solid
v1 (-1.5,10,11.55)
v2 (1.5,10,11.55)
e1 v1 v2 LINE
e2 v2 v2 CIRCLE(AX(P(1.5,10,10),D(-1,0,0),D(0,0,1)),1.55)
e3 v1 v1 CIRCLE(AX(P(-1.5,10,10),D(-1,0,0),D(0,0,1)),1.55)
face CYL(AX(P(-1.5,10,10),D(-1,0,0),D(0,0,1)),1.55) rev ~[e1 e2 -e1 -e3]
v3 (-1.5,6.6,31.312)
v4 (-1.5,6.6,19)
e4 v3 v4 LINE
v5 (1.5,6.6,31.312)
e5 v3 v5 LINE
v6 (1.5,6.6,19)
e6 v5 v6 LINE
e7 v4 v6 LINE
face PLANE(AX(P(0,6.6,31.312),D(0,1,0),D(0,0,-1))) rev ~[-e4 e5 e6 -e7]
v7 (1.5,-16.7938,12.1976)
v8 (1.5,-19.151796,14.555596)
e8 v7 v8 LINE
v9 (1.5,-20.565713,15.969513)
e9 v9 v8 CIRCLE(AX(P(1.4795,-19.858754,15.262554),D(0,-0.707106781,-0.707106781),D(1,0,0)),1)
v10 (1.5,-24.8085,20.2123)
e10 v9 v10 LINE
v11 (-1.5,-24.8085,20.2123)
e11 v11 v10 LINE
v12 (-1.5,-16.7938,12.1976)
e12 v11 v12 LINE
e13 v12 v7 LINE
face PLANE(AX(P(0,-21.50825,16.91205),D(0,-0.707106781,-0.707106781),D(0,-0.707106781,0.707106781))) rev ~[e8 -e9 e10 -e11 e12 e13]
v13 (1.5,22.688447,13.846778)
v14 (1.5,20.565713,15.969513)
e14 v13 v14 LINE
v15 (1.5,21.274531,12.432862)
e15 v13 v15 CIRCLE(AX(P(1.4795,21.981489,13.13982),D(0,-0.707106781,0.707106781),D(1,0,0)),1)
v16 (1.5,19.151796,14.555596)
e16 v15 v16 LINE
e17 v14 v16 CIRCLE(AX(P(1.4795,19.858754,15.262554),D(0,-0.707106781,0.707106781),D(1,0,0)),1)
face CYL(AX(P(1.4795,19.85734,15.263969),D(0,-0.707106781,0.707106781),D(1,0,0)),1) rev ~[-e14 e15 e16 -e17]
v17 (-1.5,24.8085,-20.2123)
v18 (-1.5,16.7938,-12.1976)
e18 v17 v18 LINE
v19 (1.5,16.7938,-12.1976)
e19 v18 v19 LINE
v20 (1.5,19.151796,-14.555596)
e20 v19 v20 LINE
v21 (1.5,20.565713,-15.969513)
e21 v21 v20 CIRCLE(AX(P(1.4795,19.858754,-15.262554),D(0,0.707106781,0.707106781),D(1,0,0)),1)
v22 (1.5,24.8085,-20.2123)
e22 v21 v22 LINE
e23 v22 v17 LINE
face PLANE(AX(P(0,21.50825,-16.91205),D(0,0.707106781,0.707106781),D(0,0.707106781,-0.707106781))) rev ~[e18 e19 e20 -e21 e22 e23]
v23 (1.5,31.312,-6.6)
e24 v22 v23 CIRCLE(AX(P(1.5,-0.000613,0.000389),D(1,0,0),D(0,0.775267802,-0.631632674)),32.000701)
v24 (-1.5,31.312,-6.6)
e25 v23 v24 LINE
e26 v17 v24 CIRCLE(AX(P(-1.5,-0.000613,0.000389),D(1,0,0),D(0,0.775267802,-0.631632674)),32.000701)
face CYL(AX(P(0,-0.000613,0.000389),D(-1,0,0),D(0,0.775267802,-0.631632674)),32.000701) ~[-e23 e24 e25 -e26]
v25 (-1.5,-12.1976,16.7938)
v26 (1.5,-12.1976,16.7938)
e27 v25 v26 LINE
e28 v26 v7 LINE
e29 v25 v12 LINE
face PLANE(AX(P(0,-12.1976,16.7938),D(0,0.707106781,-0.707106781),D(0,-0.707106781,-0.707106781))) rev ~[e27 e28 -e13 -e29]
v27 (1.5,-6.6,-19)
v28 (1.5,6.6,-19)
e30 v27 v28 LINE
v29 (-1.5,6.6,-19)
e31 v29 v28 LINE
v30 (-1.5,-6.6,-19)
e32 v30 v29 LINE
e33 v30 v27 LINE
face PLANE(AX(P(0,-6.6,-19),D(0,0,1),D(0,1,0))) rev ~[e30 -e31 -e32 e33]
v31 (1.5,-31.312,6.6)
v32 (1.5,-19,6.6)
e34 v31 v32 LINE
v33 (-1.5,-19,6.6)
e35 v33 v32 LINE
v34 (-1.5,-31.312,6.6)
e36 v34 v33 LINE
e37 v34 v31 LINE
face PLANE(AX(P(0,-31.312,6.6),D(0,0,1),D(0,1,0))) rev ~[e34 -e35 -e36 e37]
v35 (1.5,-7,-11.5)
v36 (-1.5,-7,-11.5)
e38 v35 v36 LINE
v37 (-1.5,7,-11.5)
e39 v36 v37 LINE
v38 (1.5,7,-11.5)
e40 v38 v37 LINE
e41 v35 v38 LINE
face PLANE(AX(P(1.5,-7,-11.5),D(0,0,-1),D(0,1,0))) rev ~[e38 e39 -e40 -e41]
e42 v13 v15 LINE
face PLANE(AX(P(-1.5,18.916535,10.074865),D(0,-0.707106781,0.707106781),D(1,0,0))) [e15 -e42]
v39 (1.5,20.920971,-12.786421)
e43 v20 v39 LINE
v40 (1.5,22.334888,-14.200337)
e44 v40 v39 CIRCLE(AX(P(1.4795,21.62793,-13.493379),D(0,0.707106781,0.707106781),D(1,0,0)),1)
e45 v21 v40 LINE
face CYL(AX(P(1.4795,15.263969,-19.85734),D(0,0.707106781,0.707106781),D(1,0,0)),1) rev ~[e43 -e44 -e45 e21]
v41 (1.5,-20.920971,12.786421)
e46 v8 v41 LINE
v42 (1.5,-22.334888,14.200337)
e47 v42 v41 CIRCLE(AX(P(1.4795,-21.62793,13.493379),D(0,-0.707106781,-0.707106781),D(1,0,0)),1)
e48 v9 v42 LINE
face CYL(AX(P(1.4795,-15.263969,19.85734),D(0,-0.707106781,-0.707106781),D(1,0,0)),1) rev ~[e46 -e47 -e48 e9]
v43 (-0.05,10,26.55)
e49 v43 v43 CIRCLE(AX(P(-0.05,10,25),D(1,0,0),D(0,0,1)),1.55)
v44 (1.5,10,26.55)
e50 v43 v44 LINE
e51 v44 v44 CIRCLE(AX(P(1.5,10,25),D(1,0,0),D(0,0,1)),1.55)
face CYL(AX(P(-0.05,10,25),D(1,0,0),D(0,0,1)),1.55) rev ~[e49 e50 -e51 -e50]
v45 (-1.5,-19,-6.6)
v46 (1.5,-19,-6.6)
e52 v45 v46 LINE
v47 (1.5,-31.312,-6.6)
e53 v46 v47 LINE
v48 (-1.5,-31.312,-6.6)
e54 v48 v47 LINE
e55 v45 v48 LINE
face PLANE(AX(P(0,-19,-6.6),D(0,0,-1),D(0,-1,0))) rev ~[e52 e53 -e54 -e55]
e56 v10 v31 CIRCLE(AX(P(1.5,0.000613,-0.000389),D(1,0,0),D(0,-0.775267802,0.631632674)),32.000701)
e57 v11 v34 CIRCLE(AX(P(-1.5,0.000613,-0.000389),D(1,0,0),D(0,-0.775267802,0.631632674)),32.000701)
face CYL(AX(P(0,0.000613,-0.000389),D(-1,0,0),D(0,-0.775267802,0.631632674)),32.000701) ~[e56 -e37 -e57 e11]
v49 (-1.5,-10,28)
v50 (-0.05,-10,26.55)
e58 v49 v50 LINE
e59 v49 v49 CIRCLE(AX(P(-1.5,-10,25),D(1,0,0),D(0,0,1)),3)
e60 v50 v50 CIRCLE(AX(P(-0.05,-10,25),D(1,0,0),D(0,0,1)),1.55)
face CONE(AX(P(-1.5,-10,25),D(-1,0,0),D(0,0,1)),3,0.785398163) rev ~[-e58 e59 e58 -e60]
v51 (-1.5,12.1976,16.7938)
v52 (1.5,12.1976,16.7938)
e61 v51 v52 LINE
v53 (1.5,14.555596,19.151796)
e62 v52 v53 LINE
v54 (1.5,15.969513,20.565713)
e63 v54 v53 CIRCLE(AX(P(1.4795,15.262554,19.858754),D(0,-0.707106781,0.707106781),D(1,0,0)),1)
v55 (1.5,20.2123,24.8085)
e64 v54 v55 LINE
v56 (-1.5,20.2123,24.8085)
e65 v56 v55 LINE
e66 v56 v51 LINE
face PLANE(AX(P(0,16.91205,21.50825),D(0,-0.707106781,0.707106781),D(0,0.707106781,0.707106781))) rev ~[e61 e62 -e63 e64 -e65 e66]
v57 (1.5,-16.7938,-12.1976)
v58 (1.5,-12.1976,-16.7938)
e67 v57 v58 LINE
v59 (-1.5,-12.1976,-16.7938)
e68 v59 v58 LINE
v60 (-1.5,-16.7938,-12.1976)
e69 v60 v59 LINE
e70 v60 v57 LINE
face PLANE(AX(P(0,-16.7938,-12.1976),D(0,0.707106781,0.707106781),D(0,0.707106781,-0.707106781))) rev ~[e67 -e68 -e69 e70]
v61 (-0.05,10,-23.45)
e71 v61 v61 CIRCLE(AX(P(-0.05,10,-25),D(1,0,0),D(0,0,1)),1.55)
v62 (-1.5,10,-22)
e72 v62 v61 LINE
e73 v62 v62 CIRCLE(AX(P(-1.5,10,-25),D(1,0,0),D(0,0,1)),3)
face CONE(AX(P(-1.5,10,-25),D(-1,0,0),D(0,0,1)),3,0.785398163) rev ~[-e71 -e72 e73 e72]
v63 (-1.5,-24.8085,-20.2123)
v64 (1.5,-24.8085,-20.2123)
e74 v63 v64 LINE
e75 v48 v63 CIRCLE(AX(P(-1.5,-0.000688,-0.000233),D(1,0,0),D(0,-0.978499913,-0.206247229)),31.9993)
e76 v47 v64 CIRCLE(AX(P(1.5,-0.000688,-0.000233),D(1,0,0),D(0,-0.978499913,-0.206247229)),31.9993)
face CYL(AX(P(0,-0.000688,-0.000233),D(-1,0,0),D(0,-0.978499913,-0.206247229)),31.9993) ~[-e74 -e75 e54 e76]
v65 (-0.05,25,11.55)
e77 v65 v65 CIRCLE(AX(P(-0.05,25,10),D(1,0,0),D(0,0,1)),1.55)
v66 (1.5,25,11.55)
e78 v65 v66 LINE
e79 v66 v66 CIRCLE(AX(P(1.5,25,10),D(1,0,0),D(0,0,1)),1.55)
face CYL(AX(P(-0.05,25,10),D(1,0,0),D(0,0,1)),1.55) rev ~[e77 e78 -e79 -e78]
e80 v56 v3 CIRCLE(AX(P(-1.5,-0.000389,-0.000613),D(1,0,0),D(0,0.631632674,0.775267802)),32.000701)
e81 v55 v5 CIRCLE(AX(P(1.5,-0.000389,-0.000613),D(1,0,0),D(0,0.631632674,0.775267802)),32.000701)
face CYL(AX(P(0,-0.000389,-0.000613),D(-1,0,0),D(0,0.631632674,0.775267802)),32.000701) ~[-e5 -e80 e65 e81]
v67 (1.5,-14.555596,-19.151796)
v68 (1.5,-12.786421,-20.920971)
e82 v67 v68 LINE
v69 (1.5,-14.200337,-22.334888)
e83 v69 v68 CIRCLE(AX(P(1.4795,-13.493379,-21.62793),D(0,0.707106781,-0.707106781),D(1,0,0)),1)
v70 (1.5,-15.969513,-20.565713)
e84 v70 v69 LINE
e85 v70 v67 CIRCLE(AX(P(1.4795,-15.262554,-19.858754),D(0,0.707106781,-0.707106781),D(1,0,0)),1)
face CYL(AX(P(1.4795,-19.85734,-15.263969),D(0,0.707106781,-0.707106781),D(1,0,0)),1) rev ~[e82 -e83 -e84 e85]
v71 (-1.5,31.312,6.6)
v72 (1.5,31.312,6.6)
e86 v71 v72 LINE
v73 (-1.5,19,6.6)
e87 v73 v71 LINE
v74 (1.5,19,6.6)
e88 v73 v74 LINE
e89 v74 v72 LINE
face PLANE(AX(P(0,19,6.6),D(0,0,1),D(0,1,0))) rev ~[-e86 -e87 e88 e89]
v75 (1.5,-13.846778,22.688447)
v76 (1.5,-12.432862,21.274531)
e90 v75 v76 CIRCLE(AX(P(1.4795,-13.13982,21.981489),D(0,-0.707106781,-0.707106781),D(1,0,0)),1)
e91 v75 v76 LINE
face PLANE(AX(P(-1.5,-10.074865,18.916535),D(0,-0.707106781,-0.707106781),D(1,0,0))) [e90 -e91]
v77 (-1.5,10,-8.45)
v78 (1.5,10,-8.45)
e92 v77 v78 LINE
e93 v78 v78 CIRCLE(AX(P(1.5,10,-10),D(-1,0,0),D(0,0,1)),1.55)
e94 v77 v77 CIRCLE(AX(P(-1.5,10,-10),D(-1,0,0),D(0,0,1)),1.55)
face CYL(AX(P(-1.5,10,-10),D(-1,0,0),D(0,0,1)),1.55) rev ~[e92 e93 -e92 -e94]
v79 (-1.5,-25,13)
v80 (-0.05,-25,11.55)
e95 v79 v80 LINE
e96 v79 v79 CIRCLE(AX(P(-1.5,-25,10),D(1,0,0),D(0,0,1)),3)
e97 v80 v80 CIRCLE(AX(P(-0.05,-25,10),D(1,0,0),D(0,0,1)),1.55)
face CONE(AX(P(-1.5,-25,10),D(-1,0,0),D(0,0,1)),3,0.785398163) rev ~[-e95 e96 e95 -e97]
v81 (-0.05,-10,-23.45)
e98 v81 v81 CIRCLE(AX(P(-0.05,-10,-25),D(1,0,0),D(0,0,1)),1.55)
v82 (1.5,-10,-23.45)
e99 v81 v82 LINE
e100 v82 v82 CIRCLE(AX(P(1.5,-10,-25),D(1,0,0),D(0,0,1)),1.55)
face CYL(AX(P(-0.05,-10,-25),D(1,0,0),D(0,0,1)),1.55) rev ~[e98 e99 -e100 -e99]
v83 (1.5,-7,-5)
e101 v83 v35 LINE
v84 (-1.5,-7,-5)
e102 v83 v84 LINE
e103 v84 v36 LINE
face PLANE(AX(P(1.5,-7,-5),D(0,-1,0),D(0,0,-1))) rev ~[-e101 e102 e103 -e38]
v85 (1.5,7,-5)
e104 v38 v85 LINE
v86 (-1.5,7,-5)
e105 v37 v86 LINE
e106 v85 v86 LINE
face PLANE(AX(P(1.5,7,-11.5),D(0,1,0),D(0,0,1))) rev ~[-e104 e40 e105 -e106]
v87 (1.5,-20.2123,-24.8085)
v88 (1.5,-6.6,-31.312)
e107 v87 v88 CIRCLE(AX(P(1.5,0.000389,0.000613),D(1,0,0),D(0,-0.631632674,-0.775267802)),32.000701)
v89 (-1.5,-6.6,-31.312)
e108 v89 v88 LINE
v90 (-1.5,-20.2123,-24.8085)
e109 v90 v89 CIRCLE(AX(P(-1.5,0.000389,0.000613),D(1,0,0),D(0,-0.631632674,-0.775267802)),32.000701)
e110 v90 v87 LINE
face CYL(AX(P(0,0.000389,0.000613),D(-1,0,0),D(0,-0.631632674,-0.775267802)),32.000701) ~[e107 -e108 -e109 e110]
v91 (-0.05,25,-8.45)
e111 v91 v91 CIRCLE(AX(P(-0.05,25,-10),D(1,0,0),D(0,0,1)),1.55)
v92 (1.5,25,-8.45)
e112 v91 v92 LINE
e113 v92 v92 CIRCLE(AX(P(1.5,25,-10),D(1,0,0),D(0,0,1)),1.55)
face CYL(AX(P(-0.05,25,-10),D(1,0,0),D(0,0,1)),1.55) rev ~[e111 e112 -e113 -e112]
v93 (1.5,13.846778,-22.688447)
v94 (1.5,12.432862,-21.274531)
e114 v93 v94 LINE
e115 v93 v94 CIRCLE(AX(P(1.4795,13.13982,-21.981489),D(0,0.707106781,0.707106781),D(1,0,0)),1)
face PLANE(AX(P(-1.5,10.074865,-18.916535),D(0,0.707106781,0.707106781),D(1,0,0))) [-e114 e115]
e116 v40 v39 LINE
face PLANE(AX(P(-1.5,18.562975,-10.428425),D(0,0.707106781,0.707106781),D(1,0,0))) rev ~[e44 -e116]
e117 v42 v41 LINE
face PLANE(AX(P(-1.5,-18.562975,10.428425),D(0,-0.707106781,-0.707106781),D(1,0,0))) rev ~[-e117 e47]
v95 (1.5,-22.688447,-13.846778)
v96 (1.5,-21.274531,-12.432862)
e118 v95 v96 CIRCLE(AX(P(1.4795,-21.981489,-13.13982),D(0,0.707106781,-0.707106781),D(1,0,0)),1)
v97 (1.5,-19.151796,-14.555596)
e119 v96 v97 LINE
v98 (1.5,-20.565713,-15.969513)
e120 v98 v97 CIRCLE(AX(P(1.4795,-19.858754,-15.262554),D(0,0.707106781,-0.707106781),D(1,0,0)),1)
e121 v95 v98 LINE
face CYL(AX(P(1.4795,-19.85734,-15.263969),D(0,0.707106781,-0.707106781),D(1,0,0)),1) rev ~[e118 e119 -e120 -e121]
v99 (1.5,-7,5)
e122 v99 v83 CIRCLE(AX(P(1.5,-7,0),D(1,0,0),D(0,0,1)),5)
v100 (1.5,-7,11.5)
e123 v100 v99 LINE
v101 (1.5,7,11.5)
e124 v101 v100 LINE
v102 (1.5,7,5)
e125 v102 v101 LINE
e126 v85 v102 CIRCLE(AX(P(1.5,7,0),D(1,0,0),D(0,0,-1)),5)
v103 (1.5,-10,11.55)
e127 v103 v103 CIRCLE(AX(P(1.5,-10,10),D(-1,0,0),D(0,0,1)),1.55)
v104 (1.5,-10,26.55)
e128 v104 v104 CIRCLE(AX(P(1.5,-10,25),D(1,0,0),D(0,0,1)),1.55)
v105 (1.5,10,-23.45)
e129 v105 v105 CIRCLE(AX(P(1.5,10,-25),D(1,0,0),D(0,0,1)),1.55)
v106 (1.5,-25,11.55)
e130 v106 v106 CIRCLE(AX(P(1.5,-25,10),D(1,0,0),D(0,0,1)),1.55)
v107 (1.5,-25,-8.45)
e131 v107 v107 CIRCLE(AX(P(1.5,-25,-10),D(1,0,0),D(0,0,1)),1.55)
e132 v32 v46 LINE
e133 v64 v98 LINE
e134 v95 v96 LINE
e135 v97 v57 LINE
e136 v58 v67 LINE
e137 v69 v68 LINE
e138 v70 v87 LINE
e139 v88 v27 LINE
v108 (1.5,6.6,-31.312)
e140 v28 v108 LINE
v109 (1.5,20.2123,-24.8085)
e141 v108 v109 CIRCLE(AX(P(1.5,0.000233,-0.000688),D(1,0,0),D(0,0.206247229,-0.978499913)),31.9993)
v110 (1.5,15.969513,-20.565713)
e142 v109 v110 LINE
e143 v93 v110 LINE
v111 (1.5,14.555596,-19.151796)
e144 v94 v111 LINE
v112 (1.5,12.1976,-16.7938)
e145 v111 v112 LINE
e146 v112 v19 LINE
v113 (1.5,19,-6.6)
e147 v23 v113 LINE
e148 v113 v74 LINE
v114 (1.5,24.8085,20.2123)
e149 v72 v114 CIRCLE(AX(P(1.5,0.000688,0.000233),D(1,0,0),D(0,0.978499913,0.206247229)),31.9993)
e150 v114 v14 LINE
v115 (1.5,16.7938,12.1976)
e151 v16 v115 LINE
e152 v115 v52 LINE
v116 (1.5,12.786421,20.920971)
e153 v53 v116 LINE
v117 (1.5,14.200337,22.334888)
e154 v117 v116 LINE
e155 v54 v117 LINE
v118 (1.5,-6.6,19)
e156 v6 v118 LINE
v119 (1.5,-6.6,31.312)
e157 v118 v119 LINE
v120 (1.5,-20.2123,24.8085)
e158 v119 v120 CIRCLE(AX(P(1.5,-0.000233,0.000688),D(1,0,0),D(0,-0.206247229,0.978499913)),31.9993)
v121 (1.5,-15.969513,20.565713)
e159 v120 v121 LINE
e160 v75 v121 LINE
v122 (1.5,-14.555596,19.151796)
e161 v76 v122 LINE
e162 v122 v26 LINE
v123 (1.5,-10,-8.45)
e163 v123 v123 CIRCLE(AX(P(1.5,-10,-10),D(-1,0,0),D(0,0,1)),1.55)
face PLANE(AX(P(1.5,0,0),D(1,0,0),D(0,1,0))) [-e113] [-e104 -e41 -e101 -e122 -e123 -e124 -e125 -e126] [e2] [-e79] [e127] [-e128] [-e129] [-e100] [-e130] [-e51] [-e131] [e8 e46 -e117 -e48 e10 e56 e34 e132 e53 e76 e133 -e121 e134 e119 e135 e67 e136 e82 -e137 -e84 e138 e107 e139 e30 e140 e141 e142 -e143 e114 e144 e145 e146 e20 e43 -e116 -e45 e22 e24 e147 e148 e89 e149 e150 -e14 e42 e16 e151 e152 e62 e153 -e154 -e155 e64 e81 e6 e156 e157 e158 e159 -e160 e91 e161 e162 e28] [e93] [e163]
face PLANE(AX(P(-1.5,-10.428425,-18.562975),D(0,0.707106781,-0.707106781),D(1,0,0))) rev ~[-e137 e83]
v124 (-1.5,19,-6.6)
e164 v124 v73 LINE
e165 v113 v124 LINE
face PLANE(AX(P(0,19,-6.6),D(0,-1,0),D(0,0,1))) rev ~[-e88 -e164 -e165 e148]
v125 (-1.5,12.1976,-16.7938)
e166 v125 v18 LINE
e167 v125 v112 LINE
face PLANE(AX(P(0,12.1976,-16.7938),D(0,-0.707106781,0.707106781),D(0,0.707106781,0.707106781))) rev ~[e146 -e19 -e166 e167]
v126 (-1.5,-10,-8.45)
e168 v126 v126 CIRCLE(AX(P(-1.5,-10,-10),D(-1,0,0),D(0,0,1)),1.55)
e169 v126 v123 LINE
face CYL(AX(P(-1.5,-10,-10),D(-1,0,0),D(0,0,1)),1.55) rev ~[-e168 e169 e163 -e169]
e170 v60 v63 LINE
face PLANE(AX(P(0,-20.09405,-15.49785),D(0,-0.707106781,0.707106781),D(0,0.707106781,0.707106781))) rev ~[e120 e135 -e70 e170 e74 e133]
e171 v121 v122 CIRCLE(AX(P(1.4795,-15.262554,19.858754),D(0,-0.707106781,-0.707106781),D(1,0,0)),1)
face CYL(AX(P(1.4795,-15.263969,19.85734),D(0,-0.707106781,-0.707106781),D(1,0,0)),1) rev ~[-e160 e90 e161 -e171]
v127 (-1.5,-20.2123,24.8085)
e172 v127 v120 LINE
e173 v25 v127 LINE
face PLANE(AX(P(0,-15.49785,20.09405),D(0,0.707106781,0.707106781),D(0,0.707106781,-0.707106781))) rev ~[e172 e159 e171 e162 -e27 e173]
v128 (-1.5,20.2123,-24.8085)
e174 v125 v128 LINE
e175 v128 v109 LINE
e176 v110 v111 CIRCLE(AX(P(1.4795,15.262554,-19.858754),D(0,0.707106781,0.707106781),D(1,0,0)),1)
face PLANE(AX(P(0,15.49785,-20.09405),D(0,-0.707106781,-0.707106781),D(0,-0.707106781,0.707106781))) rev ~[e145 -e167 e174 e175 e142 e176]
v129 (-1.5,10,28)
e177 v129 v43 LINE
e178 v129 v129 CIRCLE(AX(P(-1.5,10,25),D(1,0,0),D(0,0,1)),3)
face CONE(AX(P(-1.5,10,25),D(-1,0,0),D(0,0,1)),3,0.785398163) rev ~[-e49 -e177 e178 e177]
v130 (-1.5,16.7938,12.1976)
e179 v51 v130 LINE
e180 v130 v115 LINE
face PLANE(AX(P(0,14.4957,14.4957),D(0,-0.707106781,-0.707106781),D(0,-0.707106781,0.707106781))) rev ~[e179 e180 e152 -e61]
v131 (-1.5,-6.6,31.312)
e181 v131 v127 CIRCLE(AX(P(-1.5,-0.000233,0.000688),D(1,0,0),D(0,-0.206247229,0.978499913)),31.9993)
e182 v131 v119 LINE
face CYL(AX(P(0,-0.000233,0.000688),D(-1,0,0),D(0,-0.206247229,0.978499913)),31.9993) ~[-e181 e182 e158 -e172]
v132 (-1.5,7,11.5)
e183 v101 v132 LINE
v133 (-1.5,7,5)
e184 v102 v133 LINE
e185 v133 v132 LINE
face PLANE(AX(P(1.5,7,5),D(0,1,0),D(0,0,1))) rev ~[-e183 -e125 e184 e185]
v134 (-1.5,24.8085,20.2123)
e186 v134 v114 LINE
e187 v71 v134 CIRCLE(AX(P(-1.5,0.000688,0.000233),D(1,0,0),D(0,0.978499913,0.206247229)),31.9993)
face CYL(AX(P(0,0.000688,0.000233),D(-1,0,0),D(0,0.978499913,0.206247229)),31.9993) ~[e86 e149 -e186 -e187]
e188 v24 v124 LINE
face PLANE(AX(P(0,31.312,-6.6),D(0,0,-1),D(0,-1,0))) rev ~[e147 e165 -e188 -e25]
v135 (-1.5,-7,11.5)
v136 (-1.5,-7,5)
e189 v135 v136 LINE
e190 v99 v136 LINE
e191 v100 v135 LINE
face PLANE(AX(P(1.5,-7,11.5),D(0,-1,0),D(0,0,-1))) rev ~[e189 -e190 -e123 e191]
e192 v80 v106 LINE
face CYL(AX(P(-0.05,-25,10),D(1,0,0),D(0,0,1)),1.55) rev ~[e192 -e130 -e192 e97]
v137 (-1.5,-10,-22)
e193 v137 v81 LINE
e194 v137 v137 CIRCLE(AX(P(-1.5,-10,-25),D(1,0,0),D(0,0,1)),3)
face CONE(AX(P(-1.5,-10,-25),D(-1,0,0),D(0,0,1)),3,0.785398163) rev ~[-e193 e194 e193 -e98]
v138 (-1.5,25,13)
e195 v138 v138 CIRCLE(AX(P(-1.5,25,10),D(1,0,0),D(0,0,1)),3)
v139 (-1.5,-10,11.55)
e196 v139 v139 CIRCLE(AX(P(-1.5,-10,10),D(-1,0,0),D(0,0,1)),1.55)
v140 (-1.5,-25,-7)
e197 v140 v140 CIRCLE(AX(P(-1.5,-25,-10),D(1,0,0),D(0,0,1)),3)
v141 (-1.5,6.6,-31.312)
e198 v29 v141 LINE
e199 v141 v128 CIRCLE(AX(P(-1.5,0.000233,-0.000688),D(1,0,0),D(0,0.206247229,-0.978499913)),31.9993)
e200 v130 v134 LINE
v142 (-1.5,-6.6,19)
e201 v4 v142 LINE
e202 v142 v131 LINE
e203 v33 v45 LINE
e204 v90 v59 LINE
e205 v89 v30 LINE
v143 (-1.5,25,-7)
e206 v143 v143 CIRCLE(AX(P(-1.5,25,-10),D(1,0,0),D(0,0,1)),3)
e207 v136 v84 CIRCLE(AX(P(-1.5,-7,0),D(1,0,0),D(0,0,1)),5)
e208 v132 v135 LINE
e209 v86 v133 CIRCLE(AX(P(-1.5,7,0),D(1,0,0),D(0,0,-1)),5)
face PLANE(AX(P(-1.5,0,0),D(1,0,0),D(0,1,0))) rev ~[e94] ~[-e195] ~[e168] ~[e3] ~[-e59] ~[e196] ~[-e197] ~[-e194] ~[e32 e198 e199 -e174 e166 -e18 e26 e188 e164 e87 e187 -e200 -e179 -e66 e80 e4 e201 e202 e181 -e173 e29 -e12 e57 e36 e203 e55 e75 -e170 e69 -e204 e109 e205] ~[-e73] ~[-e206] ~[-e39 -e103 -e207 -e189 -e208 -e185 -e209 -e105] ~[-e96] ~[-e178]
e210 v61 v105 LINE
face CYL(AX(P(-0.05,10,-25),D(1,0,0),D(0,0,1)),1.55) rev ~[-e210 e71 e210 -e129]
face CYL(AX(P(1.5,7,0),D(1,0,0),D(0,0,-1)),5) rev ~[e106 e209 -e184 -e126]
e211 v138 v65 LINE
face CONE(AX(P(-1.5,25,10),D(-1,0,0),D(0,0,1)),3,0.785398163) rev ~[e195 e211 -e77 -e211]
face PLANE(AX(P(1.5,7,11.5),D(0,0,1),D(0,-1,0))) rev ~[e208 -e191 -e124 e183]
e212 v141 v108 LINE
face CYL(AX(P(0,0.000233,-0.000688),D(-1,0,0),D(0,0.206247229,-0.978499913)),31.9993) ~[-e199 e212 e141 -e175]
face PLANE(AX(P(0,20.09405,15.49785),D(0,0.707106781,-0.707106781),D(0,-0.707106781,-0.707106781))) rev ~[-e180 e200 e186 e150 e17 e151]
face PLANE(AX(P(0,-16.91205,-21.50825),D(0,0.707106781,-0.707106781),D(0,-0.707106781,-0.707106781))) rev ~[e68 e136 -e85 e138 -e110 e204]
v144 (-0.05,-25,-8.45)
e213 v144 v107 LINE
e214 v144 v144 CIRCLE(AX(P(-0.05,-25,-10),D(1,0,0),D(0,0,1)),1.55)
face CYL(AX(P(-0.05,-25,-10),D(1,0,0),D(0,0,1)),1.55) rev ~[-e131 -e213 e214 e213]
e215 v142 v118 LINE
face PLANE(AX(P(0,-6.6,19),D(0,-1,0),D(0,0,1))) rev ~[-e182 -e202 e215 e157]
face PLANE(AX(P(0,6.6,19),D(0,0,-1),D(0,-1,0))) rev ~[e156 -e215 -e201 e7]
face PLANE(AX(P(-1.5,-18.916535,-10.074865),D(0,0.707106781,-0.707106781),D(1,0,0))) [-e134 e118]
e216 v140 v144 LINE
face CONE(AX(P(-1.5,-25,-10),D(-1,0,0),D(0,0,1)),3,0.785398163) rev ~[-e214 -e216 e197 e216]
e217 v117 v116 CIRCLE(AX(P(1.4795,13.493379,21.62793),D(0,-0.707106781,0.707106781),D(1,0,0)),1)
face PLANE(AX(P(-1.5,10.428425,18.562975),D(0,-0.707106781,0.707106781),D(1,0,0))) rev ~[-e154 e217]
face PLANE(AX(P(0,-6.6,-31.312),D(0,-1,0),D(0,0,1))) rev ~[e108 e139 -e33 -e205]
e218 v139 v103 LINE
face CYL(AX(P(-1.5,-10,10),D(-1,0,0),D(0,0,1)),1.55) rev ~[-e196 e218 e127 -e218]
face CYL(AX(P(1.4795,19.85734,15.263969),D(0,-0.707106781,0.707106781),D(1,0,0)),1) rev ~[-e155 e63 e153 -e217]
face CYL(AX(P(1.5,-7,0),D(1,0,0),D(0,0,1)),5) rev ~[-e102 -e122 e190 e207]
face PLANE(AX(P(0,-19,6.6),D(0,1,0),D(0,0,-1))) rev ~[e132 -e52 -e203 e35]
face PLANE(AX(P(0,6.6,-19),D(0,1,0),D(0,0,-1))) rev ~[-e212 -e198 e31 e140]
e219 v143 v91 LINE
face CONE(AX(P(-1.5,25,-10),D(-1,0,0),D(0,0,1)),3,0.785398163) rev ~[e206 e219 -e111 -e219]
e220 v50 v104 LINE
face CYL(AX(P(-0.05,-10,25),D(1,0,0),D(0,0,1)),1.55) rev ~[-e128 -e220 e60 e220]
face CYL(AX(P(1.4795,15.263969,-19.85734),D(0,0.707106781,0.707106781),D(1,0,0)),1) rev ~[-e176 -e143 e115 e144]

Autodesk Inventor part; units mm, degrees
ref_plane "YZ Plane" through (0, 0, 0) normal (1, 0, 0) x (0, 1, 0)
sketch "Náčrt1" plane through (0, 0, 0) normal (1, 0, 0) x (0, 1, 0)
  line L0 (19, 6.6) -> (31.312, 6.6)
  line L1 (31.312, -6.6) -> (19, -6.6)
  line L2 (19, -6.6) -> (19, 6.6)
  line L3 (24.8085, 20.2123) -> (16.7938, 12.1976)
  line L4 (16.7938, 12.1976) -> (12.1976, 16.7938)
  line L5 (12.1976, 16.7938) -> (20.2123, 24.8085)
  line L6 (0, 0) -> (14.4957, 14.4957)
  line L7 (6.6, 19) -> (-6.6, 19)
  line L8 (6.6, 31.312) -> (6.6, 19)
  line L9 (-6.6, 19) -> (-6.6, 31.312)
  line L10 (-20.2123, 24.8085) -> (-12.1976, 16.7938)
  line L11 (-12.1976, 16.7938) -> (-16.7938, 12.1976)
  line L12 (-16.7938, 12.1976) -> (-24.8085, 20.2123)
  line L13 (-19, 6.6) -> (-19, -6.6)
  line L14 (-31.312, 6.6) -> (-19, 6.6)
  line L15 (-19, -6.6) -> (-31.312, -6.6)
  line L16 (-24.8085, -20.2123) -> (-16.7938, -12.1976)
  line L17 (-16.7938, -12.1976) -> (-12.1976, -16.7938)
  line L18 (-12.1976, -16.7938) -> (-20.2123, -24.8085)
  line L19 (-6.6, -19) -> (6.6, -19)
  line L20 (-6.6, -31.312) -> (-6.6, -19)
  line L21 (6.6, -19) -> (6.6, -31.312)
  line L22 (20.2123, -24.8085) -> (12.1976, -16.7938)
  line L23 (12.1976, -16.7938) -> (16.7938, -12.1976)
  line L24 (16.7938, -12.1976) -> (24.8085, -20.2123)
  arc A0 (24.8085, -20.2123) -> (31.312, -6.6) centre (0, 0) ccw
  arc A1 (6.6, -31.312) -> (20.2123, -24.8085) centre (0, 0) ccw
  arc A2 (-20.2123, -24.8085) -> (-6.6, -31.312) centre (0, 0) ccw
  arc A3 (-31.312, -6.6) -> (-24.8085, -20.2123) centre (0, 0) ccw
  arc A4 (-24.8085, 20.2123) -> (-31.312, 6.6) centre (0, 0) ccw
  arc A5 (-6.6, 31.312) -> (-20.2123, 24.8085) centre (0, 0) ccw
  arc A6 (31.312, 6.6) -> (24.8085, 20.2123) centre (0, 0) ccw
  arc A7 (20.2123, 24.8085) -> (6.6, 31.312) centre (0, 0) ccw
  line L25 (16.205, 20.8011) -> (20.8011, 16.205)
  line L26 (14.9675, 23.4528) -> (13.5533, 22.0386)
  line L27 (13.5533, 22.0386) -> (22.0386, 13.5533)
  line L28 (22.0386, 13.5533) -> (23.4528, 14.9675)
  line L29 (23.4528, 14.9675) -> (14.9675, 23.4528)
  line L30 (-13.5533, 22.0386) -> (-14.9675, 23.4528)
  line L31 (-22.0386, 13.5533) -> (-13.5533, 22.0386)
  line L32 (-14.9675, 23.4528) -> (-23.4528, 14.9675)
  line L33 (-23.4528, 14.9675) -> (-22.0386, 13.5533)
  line L34 (-22.0386, -13.5533) -> (-23.4528, -14.9675)
  line L35 (-13.5533, -22.0386) -> (-22.0386, -13.5533)
  line L36 (-23.4528, -14.9675) -> (-14.9675, -23.4528)
  line L37 (-14.9675, -23.4528) -> (-13.5533, -22.0386)
  line L38 (13.5533, -22.0386) -> (14.9675, -23.4528)
  line L39 (22.0386, -13.5533) -> (13.5533, -22.0386)
  line L40 (14.9675, -23.4528) -> (23.4528, -14.9675)
  line L41 (23.4528, -14.9675) -> (22.0386, -13.5533)
  point P0 (-14.4957, 14.4957)
  point P1 (-14.4957, -14.4957)
  point P2 (14.4957, -14.4957)
  dimension "d1" = 6.6
  dimension "d2" = 6.6
  dimension "d4" = 6.5
  dimension "d5" = 3.25
  dimension "d6" = 20.5
  dimension "d7" = 45
  dimension "d10" = 360
  dimension "d12" = 2
  dimension "d13" = 12
  dimension "d14" = 1
  dimension "d15" = 2.75
  dimension "d18" = 360
extrude "Vysunutí1" add sketch "Náčrt1" along normal mid plane 3 contours L2 L1 A0 L24 L40 L41 L39 L23 L22 L38 A1 L21 L19 L20 A2 L18 L36 L37 L35 L17 L16 L34 A3 L15 L13 L14 A4 L12 L32 L33 L31 L11 L10 L30 A5 L9 L7 L8 A7 L5 L29 L26 L27 L4 L3 L28 A6 L0 | L29 L28 L27 L3 | L5 L27 L26 L29 | L24 L39 L41 L40 | L40 L38 L39 L22 | L32 L30 L31 L10 | L12 L31 L33 L32 | L18 L35 L37 L36 | L36 L34 L35 L16
ref_plane "Pracovní rovina1" through (1.5, 0, 0) normal (1, 0, 0) x (0, 0, -1)
sketch "Náčrt3" plane through (1.5, 0, 0) normal (1, 0, 0) x (0, 0, -1)
  line L0 (-11.5, 7) -> (-11.5, -7)
  line L1 (11.5, -7) -> (11.5, 7)
  arc A0 (5, 7) -> (-5, 7) centre (0, 7) ccw
  arc A1 (-5, -7) -> (5, -7) centre (0, -7) ccw
  line L2 (-11.5, -7) -> (-5, -7)
  line L3 (5, -7) -> (11.5, -7)
  line L4 (11.5, 7) -> (5, 7)
  line L5 (-5, 7) -> (-11.5, 7)
  point P0 (0, 0)
  dimension "d34" = 23
  dimension "d35" = 14
  dimension "d37" = 11.5
  dimension "d38" = 10
  dimension "d39" = 10
extrude "Vysunutí3" cut sketch "Náčrt3" against normal blind 4
ref_plane "Pracovní rovina2" through (-1.5, 0, 0) normal (-1, 0, 0) x (0, 0, 1)
sketch "Náčrt4" plane through (-1.5, 0, 0) normal (-1, 0, 0) x (0, 0, 1)
  line L0 (-11.5, 7) -> (-5, 7) projected
  arc A0 (5, 7) -> (-5, 7) centre (0, 7) ccw projected
  line L1 (5, 7) -> (11.5, 7) projected
  line L2 (11.5, 7) -> (11.5, -7) projected
  line L3 (11.5, -7) -> (5, -7) projected
  arc A1 (-5, -7) -> (5, -7) centre (0, -7) ccw projected
  line L4 (-5, -7) -> (-11.5, -7) projected
  line L5 (-11.5, -7) -> (-11.5, 7) projected
  line L6 (6.6, 31.312) -> (6.6, 19) projected
  line L7 (6.6, 19) -> (-6.6, 19) projected
  line L8 (-6.6, 19) -> (-6.6, 31.312) projected
  arc A2 (-6.6, 31.312) -> (-20.2123, 24.8085) centre (0, 0) ccw projected
  line L9 (-20.2123, 24.8085) -> (-12.1976, 16.7938) projected
  line L10 (-12.1976, 16.7938) -> (-16.7938, 12.1976) projected
  line L11 (-16.7938, 12.1976) -> (-24.8085, 20.2123) projected
  arc A3 (-24.8085, 20.2123) -> (-31.312, 6.6) centre (0, 0) ccw projected
  line L12 (-31.312, 6.6) -> (-19, 6.6) projected
  line L13 (-19, 6.6) -> (-19, -6.6) projected
  line L14 (-19, -6.6) -> (-31.312, -6.6) projected
  arc A4 (-31.312, -6.6) -> (-24.8085, -20.2123) centre (0, 0) ccw projected
  line L15 (-24.8085, -20.2123) -> (-16.7938, -12.1976) projected
  line L16 (-16.7938, -12.1976) -> (-12.1976, -16.7938) projected
  line L17 (-12.1976, -16.7938) -> (-20.2123, -24.8085) projected
  arc A5 (-20.2123, -24.8085) -> (-6.6, -31.312) centre (0, 0) ccw projected
  line L18 (-6.6, -31.312) -> (-6.6, -19) projected
  line L19 (-6.6, -19) -> (6.6, -19) projected
  line L20 (6.6, -19) -> (6.6, -31.312) projected
  arc A6 (6.6, -31.312) -> (20.2123, -24.8085) centre (0, 0) ccw projected
  line L21 (20.2123, -24.8085) -> (12.1976, -16.7938) projected
  line L22 (12.1976, -16.7938) -> (16.7938, -12.1976) projected
  line L23 (16.7938, -12.1976) -> (24.8085, -20.2123) projected
  arc A7 (24.8085, -20.2123) -> (31.312, -6.6) centre (0, 0) ccw projected
  line L24 (31.312, -6.6) -> (19, -6.6) projected
  line L25 (19, -6.6) -> (19, 6.6) projected
  line L26 (19, 6.6) -> (31.312, 6.6) projected
  arc A8 (31.312, 6.6) -> (24.8085, 20.2123) centre (0, 0) ccw projected
  line L27 (24.8085, 20.2123) -> (16.7938, 12.1976) projected
  line L28 (16.7938, 12.1976) -> (12.1976, 16.7938) projected
  line L29 (12.1976, 16.7938) -> (20.2123, 24.8085) projected
  arc A9 (20.2123, 24.8085) -> (6.6, 31.312) centre (0, 0) ccw projected
  line L30 (16.7938, 12.1976) -> (12.1976, 16.7938) projected
  line L31 (-16.7938, -12.1976) -> (-12.1976, -16.7938) projected
sketch "Náčrt5" plane through (-1.5, 0, 0) normal (-1, 0, 0) x (0, 0, 1)
  circle A0 centre (10, -10) radius 1.55
  circle A1 centre (10, 10) radius 1.55
  circle A2 centre (-10, 10) radius 1.55
  circle A3 centre (-10, -10) radius 1.55
  point P0 (0, 0)
  dimension "d45" = 360
  dimension "d47" = 10
  dimension "d48" = 10
  dimension "d49" = 3.1
extrude "Vysunutí4" cut sketch "Náčrt5" against normal blind 4
sketch "Náčrt6" plane through (1.5, 0, 0) normal (1, 0, 0) x (0, 0, -1)
  circle A0 centre (10, 25) radius 1.55
  circle A1 centre (-10, 25) radius 1.55
  circle A2 centre (-25, 10) radius 1.55
  circle A3 centre (-25, -10) radius 1.55
  circle A4 centre (-10, -25) radius 1.55
  circle A5 centre (10, -25) radius 1.55
  circle A6 centre (25, -10) radius 1.55
  circle A7 centre (25, 10) radius 1.55
  point P0 (0, 0)
  dimension "d52" = 3.1
  dimension "d53" = 3.1
  dimension "d54" = 25
  dimension "d55" = 25
  dimension "d56" = 10
  dimension "d57" = 10
  dimension "d60" = 360
sketch "Sketch7" plane through (-1.5, 16.7938, 12.1976) normal (0, -0.7071, 0.7071) x (1, 0, 0)
  circle A0 centre (2.9795, 4.3345) radius 1
  line L0 (0, 11.3345) -> (3, 11.3345) projected
  point P0 (1.5, -20.5)
  dimension "d64" = 2
  dimension "d65" = 7
extrude "Extrusion6" cut sketch "Sketch7" against normal blind 3 and the other way blind 9
pattern_circular "Circular Pattern1" count 4 over 360 about axis through (0, 0, 0) along (1, 0, 0) of "Extrusion6"
sketch "Sketch8" plane through (-1.5, 0, 0) normal (-1, 0, 0) x (0, 0, 1)
  circle A0 centre (10, 25) radius 1.55
  circle A1 centre (-10, 25) radius 1.55
  circle A2 centre (-25, 10) radius 1.55
  circle A3 centre (-25, -10) radius 1.55
  circle A4 centre (-10, -25) radius 1.55
  circle A5 centre (10, -25) radius 1.55
  circle A6 centre (25, -10) radius 1.55
  circle A7 centre (25, 10) radius 1.55
  point P0 (0, 0)
  dimension "d73" = 3.1
  dimension "d74" = 3.1
  dimension "d75" = 25
  dimension "d76" = 25
  dimension "d77" = 10
  dimension "d78" = 10
  dimension "d79" = 360
hole "Hole1" at (-1.5, -25, 10) at (-1.5, -10, 25) at (-1.5, 10, 25) at (-1.5, 25, 10) at (-1.5, 25, -10) at (-1.5, 10, -25) at (-1.5, -10, -25) at (-1.5, -25, -10) direction (1, 0, 0) diameter 3.1 end through all countersink diameter 6 countersink angle 90
equation "\"d2\" = d1"
equation "\"d5\" = 0.5 * d4"
equation "\"d14\" = 0.5 * d12"
equation "\"d15\" = -0.5 * d4 + 0.5 * d13"
equation "\"d37\" = 0.5 * d34"
equation "\"d39\" = d38"
equation "\"d48\" = d47"
equation "\"d55\" = d54"
equation "\"d57\" = d56"
equation "\"d76\" = d75"
equation "\"d78\" = d77"
equation "\"d36\" = 0.5 * d35"
properties part number "deska"
